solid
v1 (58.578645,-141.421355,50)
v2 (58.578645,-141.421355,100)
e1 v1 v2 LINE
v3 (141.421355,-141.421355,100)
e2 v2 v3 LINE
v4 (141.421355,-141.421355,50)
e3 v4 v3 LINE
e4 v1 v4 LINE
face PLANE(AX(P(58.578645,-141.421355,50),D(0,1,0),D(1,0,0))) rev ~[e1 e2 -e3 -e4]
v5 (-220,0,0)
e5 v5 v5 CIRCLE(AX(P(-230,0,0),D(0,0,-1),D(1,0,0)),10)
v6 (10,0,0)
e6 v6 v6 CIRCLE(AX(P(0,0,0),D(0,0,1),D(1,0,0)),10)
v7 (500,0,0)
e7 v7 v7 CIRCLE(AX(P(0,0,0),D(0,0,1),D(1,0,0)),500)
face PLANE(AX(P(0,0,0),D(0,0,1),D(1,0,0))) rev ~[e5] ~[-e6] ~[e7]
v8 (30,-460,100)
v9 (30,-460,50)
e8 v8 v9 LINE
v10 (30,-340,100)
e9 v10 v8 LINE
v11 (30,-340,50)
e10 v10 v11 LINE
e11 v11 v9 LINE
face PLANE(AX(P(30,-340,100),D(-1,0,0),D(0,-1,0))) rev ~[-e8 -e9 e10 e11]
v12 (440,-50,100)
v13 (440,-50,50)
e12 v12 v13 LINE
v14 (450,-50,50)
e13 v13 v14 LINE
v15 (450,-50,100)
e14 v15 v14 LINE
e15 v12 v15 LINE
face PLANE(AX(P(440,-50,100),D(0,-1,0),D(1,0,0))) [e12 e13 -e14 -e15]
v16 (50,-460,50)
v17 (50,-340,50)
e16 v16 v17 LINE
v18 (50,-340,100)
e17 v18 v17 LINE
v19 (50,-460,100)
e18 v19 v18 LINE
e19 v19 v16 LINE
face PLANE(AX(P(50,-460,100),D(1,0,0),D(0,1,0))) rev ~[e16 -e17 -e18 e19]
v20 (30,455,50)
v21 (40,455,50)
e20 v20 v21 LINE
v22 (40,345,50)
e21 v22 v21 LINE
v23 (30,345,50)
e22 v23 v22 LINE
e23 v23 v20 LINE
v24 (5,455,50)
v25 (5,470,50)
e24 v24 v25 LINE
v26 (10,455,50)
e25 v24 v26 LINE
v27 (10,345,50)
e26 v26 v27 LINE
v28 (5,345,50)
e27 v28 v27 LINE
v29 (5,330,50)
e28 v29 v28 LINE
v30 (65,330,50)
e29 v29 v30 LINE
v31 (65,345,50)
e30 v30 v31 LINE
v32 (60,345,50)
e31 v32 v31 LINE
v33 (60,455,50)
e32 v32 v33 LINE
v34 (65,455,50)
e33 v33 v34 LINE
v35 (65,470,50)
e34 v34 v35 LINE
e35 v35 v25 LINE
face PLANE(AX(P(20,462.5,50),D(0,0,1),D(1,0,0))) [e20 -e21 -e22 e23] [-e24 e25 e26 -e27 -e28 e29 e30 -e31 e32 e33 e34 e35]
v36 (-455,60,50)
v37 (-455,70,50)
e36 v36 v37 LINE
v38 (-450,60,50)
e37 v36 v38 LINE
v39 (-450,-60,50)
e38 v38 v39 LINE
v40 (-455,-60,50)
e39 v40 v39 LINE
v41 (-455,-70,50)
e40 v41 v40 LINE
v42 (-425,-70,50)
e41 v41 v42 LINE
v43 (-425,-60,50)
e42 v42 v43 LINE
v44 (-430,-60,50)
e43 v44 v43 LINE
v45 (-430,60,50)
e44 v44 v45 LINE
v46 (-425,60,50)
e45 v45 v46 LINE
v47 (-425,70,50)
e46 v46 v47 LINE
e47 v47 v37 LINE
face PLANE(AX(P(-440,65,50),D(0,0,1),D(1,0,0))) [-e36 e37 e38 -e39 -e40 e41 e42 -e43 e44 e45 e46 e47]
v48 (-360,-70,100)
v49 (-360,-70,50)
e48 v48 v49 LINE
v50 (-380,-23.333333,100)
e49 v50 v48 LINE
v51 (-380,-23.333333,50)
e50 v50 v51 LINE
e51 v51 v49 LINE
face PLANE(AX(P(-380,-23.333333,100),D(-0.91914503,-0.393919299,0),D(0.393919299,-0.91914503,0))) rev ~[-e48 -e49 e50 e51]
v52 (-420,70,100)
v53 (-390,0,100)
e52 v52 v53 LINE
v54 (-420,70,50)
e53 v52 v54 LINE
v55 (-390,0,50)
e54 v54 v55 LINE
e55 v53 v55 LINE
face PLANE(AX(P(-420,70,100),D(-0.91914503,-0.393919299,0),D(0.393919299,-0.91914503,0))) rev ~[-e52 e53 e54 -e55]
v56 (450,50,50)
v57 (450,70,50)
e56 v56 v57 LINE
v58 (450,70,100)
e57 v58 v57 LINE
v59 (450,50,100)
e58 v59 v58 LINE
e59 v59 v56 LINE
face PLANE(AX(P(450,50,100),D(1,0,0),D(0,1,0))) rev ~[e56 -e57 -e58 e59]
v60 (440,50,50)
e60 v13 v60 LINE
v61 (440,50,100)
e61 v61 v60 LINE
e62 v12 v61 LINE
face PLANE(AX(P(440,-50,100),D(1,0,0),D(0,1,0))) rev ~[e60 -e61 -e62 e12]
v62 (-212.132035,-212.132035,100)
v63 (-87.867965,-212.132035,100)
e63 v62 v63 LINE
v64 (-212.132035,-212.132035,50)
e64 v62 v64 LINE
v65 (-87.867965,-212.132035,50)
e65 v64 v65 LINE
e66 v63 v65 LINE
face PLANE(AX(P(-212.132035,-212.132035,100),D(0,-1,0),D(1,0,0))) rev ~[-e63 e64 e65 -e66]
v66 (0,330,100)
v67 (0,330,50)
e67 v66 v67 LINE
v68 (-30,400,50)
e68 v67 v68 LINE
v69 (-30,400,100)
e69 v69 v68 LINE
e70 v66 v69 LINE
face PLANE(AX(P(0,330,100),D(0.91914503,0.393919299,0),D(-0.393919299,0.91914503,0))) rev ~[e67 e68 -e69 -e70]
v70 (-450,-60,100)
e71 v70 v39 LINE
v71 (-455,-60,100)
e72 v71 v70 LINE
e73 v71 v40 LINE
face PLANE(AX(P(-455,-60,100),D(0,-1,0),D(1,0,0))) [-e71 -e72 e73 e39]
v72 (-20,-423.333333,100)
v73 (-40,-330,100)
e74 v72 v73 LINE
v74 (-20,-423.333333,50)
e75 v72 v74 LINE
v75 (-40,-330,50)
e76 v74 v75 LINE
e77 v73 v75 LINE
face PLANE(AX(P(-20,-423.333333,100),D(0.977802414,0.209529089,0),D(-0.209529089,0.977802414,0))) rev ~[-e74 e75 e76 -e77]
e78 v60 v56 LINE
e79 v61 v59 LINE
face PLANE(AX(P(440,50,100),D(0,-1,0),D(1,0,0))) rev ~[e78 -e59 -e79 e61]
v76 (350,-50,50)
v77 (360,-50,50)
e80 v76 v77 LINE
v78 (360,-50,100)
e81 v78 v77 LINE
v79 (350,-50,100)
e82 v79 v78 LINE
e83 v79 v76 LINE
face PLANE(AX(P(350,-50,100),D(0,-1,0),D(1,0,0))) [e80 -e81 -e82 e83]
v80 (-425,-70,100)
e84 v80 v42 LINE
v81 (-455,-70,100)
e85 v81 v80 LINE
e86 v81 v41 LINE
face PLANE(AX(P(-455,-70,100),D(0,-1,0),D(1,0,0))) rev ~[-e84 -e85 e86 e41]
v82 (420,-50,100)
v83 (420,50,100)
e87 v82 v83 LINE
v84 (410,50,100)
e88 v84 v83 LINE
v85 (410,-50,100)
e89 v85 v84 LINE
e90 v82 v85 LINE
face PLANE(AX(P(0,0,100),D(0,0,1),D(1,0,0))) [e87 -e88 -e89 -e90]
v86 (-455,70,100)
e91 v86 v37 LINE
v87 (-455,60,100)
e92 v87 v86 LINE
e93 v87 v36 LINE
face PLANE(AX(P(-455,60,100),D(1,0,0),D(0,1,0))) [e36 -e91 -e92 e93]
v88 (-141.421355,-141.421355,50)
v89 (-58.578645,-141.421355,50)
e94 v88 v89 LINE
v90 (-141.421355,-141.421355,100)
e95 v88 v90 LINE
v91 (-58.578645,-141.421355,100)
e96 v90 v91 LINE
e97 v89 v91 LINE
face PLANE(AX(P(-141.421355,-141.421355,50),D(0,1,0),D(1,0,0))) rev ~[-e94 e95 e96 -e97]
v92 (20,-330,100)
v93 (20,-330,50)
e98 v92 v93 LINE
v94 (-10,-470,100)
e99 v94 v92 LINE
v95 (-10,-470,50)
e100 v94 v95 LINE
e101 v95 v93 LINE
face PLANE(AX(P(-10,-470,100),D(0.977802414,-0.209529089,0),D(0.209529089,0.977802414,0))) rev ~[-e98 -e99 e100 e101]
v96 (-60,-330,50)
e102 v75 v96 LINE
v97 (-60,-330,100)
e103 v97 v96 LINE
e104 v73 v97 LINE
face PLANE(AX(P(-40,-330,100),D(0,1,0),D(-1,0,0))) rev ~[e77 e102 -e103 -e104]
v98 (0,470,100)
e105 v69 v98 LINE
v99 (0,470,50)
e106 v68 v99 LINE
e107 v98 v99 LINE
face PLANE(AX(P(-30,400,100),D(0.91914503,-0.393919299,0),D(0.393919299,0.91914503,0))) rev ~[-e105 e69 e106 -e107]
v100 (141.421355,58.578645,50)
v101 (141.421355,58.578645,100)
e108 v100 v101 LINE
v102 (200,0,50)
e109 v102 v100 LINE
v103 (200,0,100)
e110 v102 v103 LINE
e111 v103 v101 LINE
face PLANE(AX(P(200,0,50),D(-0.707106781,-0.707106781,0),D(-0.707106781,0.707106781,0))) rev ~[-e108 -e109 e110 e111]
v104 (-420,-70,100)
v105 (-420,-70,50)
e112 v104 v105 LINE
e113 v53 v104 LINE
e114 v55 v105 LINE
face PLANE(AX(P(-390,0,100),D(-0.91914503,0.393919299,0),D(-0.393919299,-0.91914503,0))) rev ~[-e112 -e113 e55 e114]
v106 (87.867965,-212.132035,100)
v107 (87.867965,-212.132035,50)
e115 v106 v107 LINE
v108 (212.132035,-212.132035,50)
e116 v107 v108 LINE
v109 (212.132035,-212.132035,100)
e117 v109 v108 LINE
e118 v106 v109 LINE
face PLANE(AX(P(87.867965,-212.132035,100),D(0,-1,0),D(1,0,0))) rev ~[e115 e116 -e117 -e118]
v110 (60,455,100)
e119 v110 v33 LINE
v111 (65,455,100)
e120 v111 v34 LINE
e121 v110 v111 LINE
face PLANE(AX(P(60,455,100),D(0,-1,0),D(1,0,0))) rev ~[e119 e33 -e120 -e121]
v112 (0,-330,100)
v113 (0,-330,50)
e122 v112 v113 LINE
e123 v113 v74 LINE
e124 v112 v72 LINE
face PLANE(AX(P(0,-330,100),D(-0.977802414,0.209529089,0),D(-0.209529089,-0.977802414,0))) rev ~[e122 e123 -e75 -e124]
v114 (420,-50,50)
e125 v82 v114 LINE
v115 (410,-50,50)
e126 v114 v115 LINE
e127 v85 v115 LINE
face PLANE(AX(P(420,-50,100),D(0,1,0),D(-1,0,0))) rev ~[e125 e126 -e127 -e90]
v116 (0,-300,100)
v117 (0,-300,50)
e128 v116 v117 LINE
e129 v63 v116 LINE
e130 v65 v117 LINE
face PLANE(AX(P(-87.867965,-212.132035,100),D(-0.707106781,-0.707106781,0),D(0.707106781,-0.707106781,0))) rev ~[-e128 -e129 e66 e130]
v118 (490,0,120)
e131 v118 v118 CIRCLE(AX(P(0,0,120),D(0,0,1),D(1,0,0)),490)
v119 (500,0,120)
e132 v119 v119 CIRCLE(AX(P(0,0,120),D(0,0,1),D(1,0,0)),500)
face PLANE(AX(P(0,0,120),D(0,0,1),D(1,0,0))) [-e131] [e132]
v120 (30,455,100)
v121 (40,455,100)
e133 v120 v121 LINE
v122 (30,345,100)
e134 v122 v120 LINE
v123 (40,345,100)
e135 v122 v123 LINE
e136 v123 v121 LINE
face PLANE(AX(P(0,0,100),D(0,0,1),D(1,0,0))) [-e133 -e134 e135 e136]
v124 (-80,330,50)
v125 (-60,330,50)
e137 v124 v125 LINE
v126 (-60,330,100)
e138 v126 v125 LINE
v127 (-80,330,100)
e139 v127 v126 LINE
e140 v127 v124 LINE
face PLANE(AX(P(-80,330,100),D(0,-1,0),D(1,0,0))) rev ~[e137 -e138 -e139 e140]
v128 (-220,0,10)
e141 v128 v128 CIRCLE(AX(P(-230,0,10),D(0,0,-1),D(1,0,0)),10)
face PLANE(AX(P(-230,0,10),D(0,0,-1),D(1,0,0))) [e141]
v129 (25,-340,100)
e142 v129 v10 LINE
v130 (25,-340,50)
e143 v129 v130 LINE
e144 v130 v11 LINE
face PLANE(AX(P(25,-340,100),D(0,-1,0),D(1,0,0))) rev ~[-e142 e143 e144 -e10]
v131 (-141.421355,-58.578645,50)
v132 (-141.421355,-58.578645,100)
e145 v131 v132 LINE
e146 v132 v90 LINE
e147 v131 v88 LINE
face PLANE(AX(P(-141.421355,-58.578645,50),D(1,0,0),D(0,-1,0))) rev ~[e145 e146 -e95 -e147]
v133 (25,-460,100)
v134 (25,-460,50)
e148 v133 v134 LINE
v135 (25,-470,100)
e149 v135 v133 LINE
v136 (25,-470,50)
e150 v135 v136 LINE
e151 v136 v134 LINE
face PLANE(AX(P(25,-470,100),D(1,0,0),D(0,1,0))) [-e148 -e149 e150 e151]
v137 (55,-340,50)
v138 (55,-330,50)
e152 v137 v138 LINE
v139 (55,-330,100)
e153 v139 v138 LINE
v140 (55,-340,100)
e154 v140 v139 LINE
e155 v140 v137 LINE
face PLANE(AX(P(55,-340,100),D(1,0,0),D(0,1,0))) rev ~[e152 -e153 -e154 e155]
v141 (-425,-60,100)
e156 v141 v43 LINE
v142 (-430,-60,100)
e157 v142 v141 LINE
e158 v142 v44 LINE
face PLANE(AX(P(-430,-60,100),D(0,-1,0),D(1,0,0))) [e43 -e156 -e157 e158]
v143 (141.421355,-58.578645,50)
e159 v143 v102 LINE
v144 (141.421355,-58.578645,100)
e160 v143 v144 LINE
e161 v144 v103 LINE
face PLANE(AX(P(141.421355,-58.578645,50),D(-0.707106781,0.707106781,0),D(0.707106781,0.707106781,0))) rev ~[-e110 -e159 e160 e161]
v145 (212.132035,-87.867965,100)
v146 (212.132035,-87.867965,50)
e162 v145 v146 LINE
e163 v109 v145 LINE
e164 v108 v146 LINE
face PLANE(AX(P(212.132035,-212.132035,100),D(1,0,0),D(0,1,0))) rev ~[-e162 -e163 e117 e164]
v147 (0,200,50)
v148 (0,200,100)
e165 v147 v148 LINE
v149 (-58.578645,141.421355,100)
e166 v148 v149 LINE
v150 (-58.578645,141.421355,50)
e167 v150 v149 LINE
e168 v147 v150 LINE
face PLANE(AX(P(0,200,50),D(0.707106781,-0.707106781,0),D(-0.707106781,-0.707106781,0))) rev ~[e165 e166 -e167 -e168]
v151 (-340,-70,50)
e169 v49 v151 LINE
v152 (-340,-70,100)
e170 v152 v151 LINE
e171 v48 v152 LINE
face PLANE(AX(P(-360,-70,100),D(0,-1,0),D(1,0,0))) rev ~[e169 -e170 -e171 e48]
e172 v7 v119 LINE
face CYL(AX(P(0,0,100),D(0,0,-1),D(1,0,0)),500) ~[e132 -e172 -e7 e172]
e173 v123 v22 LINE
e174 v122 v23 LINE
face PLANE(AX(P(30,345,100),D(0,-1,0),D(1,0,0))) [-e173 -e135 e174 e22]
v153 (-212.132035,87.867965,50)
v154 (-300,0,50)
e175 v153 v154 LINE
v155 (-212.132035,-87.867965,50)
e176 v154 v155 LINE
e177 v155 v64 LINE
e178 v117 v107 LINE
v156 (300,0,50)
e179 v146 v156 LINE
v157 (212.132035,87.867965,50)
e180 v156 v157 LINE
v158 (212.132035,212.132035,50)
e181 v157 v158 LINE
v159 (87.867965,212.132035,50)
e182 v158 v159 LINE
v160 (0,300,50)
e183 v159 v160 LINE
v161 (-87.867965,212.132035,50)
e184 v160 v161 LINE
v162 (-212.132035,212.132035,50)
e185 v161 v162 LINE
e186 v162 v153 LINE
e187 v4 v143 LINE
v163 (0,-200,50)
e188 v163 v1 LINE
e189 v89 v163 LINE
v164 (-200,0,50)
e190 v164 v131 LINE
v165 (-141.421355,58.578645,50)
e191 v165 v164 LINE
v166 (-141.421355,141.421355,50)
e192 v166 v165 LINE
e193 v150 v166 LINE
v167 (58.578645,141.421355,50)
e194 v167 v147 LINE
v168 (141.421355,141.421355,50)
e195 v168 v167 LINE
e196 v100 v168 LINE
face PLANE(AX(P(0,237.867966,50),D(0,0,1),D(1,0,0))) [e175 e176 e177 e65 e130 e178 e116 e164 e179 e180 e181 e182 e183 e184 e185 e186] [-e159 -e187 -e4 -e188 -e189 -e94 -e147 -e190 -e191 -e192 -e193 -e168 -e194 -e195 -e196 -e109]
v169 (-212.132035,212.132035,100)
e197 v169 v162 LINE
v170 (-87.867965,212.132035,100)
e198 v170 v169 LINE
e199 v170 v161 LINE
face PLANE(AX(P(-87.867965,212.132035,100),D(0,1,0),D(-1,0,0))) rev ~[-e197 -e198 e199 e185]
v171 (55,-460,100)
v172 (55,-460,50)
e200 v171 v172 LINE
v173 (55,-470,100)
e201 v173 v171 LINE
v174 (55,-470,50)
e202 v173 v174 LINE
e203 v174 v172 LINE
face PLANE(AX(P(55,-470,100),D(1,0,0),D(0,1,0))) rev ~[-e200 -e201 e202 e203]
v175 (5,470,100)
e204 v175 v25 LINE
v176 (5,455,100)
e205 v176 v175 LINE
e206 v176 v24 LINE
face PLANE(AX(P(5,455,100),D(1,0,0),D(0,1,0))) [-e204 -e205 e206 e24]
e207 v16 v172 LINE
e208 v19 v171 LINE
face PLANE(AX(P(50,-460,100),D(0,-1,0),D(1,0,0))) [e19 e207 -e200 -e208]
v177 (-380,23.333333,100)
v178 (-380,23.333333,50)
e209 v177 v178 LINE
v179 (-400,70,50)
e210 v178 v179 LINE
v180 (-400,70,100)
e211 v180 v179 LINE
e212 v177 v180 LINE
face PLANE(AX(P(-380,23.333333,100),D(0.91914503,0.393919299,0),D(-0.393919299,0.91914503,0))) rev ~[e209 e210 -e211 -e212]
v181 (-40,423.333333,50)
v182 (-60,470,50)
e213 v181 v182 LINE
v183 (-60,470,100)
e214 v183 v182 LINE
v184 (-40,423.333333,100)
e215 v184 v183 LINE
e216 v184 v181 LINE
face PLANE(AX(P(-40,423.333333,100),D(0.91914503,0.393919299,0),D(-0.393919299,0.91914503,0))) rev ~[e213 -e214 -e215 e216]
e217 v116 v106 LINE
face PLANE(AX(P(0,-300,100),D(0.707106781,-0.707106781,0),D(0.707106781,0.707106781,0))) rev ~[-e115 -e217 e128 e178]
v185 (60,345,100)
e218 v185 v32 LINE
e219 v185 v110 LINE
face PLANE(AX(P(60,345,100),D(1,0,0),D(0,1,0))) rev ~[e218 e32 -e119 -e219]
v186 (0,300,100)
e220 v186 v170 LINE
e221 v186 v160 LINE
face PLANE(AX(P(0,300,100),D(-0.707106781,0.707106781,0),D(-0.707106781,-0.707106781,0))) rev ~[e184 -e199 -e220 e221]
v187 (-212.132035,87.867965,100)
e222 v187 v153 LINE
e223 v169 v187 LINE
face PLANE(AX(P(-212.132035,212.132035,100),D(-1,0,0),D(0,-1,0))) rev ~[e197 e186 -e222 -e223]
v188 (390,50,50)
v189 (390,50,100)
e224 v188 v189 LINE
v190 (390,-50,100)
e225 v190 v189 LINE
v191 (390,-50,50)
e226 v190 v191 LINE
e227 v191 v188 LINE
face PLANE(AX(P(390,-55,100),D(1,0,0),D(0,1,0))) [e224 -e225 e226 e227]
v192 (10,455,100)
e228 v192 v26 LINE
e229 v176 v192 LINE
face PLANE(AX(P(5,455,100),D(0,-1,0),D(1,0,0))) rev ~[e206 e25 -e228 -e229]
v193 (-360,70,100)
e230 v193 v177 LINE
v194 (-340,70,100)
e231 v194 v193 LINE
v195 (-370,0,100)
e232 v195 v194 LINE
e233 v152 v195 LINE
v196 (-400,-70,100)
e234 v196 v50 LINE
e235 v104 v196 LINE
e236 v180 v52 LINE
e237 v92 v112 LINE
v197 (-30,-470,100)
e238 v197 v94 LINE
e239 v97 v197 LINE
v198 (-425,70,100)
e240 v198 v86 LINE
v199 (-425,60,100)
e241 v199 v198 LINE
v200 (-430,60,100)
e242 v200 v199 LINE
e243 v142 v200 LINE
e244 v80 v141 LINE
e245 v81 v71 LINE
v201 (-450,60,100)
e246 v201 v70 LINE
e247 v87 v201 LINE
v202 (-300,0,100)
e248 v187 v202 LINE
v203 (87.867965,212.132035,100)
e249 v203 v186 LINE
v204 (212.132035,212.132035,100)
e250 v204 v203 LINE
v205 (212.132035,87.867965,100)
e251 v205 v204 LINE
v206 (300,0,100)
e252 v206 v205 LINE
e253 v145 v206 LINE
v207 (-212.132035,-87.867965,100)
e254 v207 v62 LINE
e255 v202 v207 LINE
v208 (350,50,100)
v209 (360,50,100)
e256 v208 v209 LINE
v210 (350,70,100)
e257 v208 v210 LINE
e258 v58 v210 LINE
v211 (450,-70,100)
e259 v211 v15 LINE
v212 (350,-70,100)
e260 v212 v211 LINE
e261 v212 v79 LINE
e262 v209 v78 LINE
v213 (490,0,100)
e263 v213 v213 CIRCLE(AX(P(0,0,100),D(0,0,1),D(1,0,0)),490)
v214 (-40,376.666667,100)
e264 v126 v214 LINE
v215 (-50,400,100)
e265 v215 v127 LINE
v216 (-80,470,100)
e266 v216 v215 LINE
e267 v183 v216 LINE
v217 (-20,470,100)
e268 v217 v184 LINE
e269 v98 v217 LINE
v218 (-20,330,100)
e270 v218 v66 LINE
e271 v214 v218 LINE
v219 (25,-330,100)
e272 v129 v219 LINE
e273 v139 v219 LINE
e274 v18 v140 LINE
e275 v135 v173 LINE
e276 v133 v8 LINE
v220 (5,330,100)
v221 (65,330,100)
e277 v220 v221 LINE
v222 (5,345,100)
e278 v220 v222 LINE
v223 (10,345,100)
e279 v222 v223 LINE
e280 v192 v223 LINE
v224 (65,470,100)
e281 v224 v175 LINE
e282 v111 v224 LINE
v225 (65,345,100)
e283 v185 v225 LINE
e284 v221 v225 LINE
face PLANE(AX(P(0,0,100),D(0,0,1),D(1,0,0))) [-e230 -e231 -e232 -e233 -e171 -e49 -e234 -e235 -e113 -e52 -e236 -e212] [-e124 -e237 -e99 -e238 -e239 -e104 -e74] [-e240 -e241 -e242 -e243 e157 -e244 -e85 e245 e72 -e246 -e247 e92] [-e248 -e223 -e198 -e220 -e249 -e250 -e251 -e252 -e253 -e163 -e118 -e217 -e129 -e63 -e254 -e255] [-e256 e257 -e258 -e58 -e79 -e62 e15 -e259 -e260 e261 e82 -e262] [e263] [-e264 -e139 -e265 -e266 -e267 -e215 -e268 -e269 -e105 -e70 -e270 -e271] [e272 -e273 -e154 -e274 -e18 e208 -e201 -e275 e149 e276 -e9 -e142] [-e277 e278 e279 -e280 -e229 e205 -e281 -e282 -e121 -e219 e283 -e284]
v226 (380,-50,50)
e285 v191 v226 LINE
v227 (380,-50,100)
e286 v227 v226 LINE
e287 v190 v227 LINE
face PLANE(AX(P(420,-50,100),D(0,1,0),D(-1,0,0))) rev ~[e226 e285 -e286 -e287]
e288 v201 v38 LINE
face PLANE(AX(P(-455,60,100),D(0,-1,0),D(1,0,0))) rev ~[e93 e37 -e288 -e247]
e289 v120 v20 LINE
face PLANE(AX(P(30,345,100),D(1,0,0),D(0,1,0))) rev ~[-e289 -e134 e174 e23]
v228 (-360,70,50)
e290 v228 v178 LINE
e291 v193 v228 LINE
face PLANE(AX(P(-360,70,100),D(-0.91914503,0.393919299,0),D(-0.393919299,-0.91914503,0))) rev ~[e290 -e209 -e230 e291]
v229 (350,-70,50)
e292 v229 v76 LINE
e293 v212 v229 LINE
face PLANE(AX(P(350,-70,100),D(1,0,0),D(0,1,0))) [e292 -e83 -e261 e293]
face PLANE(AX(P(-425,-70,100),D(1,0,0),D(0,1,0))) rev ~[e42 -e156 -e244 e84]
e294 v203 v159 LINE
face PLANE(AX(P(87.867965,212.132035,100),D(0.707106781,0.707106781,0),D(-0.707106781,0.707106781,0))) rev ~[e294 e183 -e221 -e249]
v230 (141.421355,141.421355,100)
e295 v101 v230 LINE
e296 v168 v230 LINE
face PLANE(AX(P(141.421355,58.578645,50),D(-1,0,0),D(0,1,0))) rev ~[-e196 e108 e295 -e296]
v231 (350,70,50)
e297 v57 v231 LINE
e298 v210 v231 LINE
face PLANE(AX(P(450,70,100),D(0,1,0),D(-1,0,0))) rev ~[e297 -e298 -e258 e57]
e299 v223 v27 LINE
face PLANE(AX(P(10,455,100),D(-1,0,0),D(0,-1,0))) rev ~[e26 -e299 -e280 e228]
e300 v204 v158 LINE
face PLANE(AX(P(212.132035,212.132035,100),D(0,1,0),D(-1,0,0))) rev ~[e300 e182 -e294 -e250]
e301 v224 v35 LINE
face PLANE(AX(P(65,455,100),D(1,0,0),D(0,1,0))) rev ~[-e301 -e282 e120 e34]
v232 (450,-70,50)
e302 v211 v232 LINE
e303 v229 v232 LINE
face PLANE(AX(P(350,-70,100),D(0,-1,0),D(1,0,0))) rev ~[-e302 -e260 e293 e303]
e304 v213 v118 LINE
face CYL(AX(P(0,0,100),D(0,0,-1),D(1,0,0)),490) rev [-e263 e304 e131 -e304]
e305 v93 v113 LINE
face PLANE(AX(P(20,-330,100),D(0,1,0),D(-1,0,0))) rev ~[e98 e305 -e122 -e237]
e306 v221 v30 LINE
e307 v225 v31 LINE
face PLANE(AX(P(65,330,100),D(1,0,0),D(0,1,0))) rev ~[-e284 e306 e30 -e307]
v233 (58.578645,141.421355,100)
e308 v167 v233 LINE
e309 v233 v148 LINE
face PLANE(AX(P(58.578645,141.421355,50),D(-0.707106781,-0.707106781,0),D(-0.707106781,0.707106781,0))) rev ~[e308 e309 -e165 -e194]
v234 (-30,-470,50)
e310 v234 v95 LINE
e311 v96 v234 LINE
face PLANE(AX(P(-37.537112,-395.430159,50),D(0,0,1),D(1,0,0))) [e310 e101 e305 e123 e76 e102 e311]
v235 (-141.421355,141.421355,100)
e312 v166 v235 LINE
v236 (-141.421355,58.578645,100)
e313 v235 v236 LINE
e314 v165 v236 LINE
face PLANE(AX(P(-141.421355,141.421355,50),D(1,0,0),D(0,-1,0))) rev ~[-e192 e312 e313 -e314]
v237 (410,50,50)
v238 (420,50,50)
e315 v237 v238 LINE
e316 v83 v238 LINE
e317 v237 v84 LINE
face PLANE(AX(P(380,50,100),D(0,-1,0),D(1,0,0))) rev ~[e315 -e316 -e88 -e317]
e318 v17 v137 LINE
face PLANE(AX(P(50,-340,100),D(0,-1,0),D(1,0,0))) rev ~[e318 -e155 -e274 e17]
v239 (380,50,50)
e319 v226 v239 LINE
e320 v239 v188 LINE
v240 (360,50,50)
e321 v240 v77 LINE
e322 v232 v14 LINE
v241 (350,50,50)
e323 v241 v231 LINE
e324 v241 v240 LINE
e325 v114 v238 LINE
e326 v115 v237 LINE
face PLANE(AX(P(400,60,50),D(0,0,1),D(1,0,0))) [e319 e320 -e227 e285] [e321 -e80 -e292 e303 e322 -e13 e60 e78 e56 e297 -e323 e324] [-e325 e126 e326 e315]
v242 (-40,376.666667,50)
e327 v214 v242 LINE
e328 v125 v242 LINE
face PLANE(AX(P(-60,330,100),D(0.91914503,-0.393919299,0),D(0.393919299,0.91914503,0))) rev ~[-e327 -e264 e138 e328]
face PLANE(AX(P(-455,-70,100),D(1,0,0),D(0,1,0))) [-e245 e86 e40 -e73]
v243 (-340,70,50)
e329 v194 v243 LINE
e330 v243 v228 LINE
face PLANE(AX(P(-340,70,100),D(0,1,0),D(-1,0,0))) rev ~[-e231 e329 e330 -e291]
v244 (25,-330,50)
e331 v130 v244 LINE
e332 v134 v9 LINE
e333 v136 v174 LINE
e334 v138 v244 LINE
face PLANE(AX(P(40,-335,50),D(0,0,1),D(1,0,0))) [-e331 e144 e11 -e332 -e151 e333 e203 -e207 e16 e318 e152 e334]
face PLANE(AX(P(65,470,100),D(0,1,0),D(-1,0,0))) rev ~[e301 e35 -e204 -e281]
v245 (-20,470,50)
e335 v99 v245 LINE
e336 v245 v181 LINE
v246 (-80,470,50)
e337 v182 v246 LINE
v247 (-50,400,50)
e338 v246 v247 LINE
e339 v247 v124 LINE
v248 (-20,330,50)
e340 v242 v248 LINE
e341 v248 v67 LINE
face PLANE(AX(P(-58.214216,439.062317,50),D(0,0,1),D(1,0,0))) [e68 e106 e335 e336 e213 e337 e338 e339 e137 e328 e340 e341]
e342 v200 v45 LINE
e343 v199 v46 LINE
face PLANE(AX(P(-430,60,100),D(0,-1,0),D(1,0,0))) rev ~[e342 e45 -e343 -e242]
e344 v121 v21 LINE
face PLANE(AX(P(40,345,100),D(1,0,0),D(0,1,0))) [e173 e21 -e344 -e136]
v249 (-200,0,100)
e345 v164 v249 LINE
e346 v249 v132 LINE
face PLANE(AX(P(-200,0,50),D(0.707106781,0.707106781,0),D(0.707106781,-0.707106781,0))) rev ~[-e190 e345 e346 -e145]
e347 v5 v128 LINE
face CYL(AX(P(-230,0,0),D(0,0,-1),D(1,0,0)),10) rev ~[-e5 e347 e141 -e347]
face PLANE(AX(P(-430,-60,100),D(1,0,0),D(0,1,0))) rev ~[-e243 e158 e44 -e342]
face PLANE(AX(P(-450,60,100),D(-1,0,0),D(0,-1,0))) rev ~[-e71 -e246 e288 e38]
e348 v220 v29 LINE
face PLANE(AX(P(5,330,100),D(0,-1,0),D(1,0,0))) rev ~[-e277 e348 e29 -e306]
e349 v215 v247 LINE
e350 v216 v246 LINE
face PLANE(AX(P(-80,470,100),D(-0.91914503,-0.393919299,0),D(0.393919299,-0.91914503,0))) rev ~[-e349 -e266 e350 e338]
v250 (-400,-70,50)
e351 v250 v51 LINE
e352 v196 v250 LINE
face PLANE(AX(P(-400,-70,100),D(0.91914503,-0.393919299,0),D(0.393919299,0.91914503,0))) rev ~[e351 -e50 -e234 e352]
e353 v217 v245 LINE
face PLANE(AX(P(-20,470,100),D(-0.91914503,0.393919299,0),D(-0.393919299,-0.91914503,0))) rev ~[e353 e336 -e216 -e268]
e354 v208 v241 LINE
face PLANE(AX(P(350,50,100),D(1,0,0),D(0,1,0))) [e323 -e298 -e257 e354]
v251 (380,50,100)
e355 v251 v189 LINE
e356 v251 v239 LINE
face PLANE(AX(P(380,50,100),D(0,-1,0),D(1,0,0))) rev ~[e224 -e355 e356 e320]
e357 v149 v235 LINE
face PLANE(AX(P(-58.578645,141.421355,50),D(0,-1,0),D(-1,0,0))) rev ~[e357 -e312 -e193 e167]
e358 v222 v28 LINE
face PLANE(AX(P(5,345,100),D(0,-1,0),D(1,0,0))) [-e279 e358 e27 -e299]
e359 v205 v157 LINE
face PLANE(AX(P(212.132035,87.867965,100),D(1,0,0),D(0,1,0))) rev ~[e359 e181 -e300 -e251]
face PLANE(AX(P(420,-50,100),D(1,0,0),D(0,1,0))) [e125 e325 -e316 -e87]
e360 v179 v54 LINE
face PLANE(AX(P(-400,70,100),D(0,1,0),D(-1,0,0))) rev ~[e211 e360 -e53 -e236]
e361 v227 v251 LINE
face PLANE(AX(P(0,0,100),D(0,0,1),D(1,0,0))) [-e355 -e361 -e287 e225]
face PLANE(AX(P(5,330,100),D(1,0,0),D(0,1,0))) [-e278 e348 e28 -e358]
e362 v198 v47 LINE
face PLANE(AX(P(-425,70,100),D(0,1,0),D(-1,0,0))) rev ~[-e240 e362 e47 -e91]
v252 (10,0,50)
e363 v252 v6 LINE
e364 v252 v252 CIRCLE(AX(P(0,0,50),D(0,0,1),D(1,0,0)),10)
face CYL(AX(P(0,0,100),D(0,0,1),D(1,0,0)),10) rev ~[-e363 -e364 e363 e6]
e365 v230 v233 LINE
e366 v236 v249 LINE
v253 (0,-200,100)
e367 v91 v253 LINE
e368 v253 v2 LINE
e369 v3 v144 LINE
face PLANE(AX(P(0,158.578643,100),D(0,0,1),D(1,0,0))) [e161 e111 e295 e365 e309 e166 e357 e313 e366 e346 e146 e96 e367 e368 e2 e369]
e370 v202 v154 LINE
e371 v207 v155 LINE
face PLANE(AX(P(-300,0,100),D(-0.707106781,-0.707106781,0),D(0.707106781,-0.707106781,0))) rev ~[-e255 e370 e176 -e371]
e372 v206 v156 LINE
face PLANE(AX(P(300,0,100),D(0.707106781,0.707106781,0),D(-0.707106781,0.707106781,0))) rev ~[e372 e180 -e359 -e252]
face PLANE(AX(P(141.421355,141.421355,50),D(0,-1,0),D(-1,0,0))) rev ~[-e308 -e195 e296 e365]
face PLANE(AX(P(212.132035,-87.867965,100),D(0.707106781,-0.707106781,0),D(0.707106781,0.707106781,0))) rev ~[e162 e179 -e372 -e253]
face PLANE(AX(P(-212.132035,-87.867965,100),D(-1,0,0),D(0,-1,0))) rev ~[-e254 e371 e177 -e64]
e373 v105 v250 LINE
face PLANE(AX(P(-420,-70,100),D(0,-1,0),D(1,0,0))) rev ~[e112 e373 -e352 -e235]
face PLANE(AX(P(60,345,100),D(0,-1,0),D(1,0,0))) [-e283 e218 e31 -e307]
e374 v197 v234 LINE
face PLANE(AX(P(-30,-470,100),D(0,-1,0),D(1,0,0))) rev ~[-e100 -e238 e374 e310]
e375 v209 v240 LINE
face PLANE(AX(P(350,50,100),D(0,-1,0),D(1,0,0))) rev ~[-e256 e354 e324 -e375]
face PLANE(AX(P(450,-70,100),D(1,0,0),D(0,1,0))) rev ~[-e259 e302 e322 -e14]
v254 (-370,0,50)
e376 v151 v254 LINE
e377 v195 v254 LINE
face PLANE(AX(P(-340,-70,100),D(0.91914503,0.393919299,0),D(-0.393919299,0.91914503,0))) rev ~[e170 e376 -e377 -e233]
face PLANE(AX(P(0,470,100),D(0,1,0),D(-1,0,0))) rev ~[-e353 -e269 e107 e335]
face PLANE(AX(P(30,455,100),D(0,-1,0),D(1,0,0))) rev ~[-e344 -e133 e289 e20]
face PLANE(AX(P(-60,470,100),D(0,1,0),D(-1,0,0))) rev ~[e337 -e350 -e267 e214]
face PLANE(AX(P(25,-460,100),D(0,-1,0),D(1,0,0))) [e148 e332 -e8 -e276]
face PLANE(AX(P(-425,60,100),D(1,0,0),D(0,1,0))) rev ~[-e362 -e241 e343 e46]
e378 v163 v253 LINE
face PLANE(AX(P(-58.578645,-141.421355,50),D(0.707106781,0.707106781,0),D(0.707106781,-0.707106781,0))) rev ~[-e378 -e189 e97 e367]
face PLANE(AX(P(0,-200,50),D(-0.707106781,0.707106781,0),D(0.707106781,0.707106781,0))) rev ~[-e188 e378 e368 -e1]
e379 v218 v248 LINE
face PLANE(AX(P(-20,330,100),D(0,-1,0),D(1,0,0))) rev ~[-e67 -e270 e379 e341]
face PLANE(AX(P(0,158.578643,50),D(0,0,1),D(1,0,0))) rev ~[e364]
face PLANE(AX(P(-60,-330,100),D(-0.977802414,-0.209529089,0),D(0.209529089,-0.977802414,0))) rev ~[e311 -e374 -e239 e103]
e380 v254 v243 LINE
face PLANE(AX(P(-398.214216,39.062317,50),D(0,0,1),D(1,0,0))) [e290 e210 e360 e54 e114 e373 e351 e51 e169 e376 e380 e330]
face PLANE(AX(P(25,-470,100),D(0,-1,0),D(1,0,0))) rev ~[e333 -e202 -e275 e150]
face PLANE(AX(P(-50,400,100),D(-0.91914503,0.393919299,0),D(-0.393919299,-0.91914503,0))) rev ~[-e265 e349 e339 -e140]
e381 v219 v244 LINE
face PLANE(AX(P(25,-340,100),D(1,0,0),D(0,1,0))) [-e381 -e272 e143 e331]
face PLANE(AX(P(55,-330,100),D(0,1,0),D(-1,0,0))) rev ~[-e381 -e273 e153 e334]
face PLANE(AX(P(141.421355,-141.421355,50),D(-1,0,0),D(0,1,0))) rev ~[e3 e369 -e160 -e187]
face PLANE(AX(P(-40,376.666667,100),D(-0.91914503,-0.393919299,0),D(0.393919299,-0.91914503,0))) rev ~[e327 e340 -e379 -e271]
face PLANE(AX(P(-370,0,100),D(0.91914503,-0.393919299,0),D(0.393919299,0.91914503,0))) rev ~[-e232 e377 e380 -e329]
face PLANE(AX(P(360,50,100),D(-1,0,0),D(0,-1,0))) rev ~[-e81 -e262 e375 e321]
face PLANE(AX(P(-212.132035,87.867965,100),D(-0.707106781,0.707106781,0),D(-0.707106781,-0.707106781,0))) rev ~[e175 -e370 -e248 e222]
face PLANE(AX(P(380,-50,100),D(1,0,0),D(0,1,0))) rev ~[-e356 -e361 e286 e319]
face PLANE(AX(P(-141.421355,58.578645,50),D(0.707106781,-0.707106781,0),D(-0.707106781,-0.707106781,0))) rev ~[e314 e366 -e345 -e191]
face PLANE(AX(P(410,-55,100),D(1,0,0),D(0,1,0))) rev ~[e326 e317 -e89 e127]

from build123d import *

# Parameters (mm, degrees)
F0_R      = 500
F1_DEPTH  = 100
F2_R      = 10
F3_DEPTH  = 100.001
F4_W      = 20
F4_H      = 15
F4_W_2    = 5
F4_W_3    = 10
F4_H_2    = 110
F5_DEPTH  = 50
F6_W      = 20
F6_H      = 20
F6_W_2    = 10
F6_H_2    = 100
F7_DEPTH  = 50
F8_W      = 20
F8_H      = 110
F9_DEPTH  = 50
F10_W     = 20
F10_H     = 10
F10_W_2   = 5
F10_H_2   = 120
F11_DEPTH = 50
F12_W     = 20
F12_H     = 10
F12_W_2   = 5
F12_H_2   = 120
F13_DEPTH = 50
F14_R     = 10
F15_DEPTH = 10
F16_R     = 500
F16_R_2   = 490
F17_DEPTH = 20
F19_DEPTH = 50
F21_DEPTH = 50


with BuildPart() as f1:
    # F0 (on Top) → F1 (new body)
    with BuildSketch(Plane.XY):
        Circle(F0_R)
    extrude(amount=F1_DEPTH)

    # F2 (on face) → F3 (cut, through all)
    with BuildSketch(Plane.XY.offset(100)):
        Circle(F2_R)
    extrude(amount=-F3_DEPTH, mode=Mode.SUBTRACT)

    # F4 (on face) → F5 (cut)
    with BuildSketch(Plane.XY.offset(100)):
        Polygon((-60, 470), (-80, 470), (-50, 400), (-40, 423.3333333333), align=None)
        Polygon((-40, 423.3333333333), (-50, 400), (-40, 376.6666666667), (-30, 400), align=None)
        Polygon((-40, 376.6666666667), (-50, 400), (-80, 330), (-60, 330), align=None)
        Polygon((-30, 400), (-40, 376.6666666667), (-20, 330), (0, 330), align=None)
        Polygon((-20, 470), (-40, 423.3333333333), (-30, 400), (0, 470), align=None)
        with Locations((20, 462.5)):
            Rectangle(F4_W, F4_H)
        with Locations((7.5, 462.5)):
            Rectangle(F4_W_2, F4_H)
        with Locations((35, 462.5)):
            Rectangle(F4_W_3, F4_H)
        with Locations((20, 400)):
            Rectangle(F4_W, F4_H_2)
        with Locations((50, 462.5)):
            Rectangle(F4_W, F4_H)
        with Locations((20, 337.5)):
            Rectangle(F4_W, F4_H)
        with Locations((7.5, 337.5)):
            Rectangle(F4_W_2, F4_H)
        with Locations((35, 337.5)):
            Rectangle(F4_W_3, F4_H)
        with Locations((50, 400)):
            Rectangle(F4_W, F4_H_2)
        with Locations((62.5, 462.5)):
            Rectangle(F4_W_2, F4_H)
        with Locations((50, 337.5)):
            Rectangle(F4_W, F4_H)
        with Locations((62.5, 337.5)):
            Rectangle(F4_W_2, F4_H)
    extrude(amount=-F5_DEPTH, mode=Mode.SUBTRACT)

    # F6 (on face) → F7 (cut)
    with BuildSketch(Plane.XY.offset(100)):
        with Locations((400, 60)):
            Rectangle(F6_W, F6_H)
        with Locations((385, 60)):
            Rectangle(F6_W_2, F6_H)
        with Locations((415, 60)):
            Rectangle(F6_W_2, F6_H)
        with Locations((370, 60)):
            Rectangle(F6_W, F6_H)
        with Locations((430, 60)):
            Rectangle(F6_W, F6_H)
        with Locations((400, -60)):
            Rectangle(F6_W, F6_H)
        with Locations((385, -60)):
            Rectangle(F6_W_2, F6_H)
        with Locations((370, 0)):
            Rectangle(F6_W, F6_H_2)
        with Locations((355, 60)):
            Rectangle(F6_W_2, F6_H)
        with Locations((415, -60)):
            Rectangle(F6_W_2, F6_H)
        with Locations((430, 0)):
            Rectangle(F6_W, F6_H_2)
        with Locations((445, 60)):
            Rectangle(F6_W_2, F6_H)
        with Locations((370, -60)):
            Rectangle(F6_W, F6_H)
        with Locations((430, -60)):
            Rectangle(F6_W, F6_H)
        with Locations((355, -60)):
            Rectangle(F6_W_2, F6_H)
        with Locations((445, -60)):
            Rectangle(F6_W_2, F6_H)
    extrude(amount=-F7_DEPTH, mode=Mode.SUBTRACT)

    # F8 (on face) → F9 (cut)
    with BuildSketch(Plane.XY.offset(100)):
        with Locations((400, 0)):
            Rectangle(F8_W, F8_H)
    extrude(amount=-F9_DEPTH, mode=Mode.SUBTRACT)

    # F10 (on face) → F11 (cut)
    with BuildSketch(Plane.XY.offset(100)):
        Polygon((-40, -330), (-60, -330), (-30, -470), (-20, -423.3333333333), align=None)
        Polygon((-20, -423.3333333333), (-30, -470), (-10, -470), align=None)
        Polygon((0, -330), (-20, -423.3333333333), (-10, -470), (20, -330), align=None)
        with Locations((40, -335)):
            Rectangle(F10_W, F10_H)
        with Locations((27.5, -335)):
            Rectangle(F10_W_2, F10_H)
        with Locations((52.5, -335)):
            Rectangle(F10_W_2, F10_H)
        with Locations((40, -400)):
            Rectangle(F10_W, F10_H_2)
        with Locations((40, -465)):
            Rectangle(F10_W, F10_H)
        with Locations((27.5, -465)):
            Rectangle(F10_W_2, F10_H)
        with Locations((52.5, -465)):
            Rectangle(F10_W_2, F10_H)
    extrude(amount=-F11_DEPTH, mode=Mode.SUBTRACT)

    # F12 (on face) → F13 (cut)
    with BuildSketch(Plane.XY.offset(100)):
        Polygon((-400, 70), (-420, 70), (-390, 0), (-380, 23.3333333333), align=None)
        Polygon((-380, 23.3333333333), (-390, 0), (-380, -23.3333333333), (-370, 0), align=None)
        Polygon((-380, -23.3333333333), (-390, 0), (-420, -70), (-400, -70), align=None)
        Polygon((-370, 0), (-380, -23.3333333333), (-360, -70), (-340, -70), align=None)
        Polygon((-360, 70), (-380, 23.3333333333), (-370, 0), (-340, 70), align=None)
        with Locations((-440, 65)):
            Rectangle(F12_W, F12_H)
        with Locations((-452.5, 65)):
            Rectangle(F12_W_2, F12_H)
        with Locations((-427.5, 65)):
            Rectangle(F12_W_2, F12_H)
        with Locations((-440, 0)):
            Rectangle(F12_W, F12_H_2)
        with Locations((-440, -65)):
            Rectangle(F12_W, F12_H)
        with Locations((-452.5, -65)):
            Rectangle(F12_W_2, F12_H)
        with Locations((-427.5, -65)):
            Rectangle(F12_W_2, F12_H)
    extrude(amount=-F13_DEPTH, mode=Mode.SUBTRACT)

    # F14 (on face) → F15 (cut)
    with BuildSketch(Plane(origin=(0, 0, 0), x_dir=(1, 0, 0), z_dir=(0, 0, -1))):
        with Locations((-230, 0)):
            Circle(F14_R)
    extrude(amount=-F15_DEPTH, mode=Mode.SUBTRACT)

    # F16 (on face) → F17 (join)
    with BuildSketch(Plane.XY.offset(100)):
        Circle(F16_R)
        Circle(F16_R_2, mode=Mode.SUBTRACT)
    extrude(amount=F17_DEPTH)

    # F18 (on face) → F19 (cut)
    with BuildSketch(Plane.XY.offset(100)):
        Polygon((87.867965, 212.132035), (0, 300), (-87.867965, 212.132035), align=None)
        Polygon((87.867965, 212.132035), (-87.867965, 212.132035), (-212.132035, 87.867965), (-212.132035, -87.867965), (-87.867965, -212.132035), (87.867965, -212.132035), (212.132035, -87.867965), (212.132035, 87.867965), align=None)
        Polygon((-212.132035, 87.867965), (-87.867965, 212.132035), (-212.132035, 212.132035), align=None)
        Polygon((212.132035, 212.132035), (87.867965, 212.132035), (212.132035, 87.867965), align=None)
        Polygon((-212.132035, -87.867965), (-212.132035, 87.867965), (-300, 0), align=None)
        Polygon((300, 0), (212.132035, 87.867965), (212.132035, -87.867965), align=None)
        Polygon((-87.867965, -212.132035), (-212.132035, -87.867965), (-212.132035, -212.132035), align=None)
        Polygon((212.132035, -212.132035), (212.132035, -87.867965), (87.867965, -212.132035), align=None)
        Polygon((87.867965, -212.132035), (-87.867965, -212.132035), (0, -300), align=None)
    extrude(amount=-F19_DEPTH, mode=Mode.SUBTRACT)

    # F20 (on face) → F21 (join)
    with BuildSketch(Plane.XY.offset(50)):
        Polygon((58.578645, 141.421355), (0, 200), (-58.578645, 141.421355), align=None)
        Polygon((58.578645, 141.421355), (-58.578645, 141.421355), (-141.421355, 58.578645), (-141.421355, -58.578645), (-58.578645, -141.421355), (58.578645, -141.421355), (141.421355, -58.578645), (141.421355, 58.578645), align=None)
        Polygon((-141.421355, 58.578645), (-58.578645, 141.421355), (-141.421355, 141.421355), align=None)
        Polygon((141.421355, 141.421355), (58.578645, 141.421355), (141.421355, 58.578645), align=None)
        Polygon((-141.421355, -58.578645), (-141.421355, 58.578645), (-200, 0), align=None)
        Polygon((200, 0), (141.421355, 58.578645), (141.421355, -58.578645), align=None)
        Polygon((-58.578645, -141.421355), (-141.421355, -58.578645), (-141.421355, -141.421355), align=None)
        Polygon((141.421355, -141.421355), (141.421355, -58.578645), (58.578645, -141.421355), align=None)
        Polygon((58.578645, -141.421355), (-58.578645, -141.421355), (0, -200), align=None)
    extrude(amount=F21_DEPTH)


solid = f1.part
